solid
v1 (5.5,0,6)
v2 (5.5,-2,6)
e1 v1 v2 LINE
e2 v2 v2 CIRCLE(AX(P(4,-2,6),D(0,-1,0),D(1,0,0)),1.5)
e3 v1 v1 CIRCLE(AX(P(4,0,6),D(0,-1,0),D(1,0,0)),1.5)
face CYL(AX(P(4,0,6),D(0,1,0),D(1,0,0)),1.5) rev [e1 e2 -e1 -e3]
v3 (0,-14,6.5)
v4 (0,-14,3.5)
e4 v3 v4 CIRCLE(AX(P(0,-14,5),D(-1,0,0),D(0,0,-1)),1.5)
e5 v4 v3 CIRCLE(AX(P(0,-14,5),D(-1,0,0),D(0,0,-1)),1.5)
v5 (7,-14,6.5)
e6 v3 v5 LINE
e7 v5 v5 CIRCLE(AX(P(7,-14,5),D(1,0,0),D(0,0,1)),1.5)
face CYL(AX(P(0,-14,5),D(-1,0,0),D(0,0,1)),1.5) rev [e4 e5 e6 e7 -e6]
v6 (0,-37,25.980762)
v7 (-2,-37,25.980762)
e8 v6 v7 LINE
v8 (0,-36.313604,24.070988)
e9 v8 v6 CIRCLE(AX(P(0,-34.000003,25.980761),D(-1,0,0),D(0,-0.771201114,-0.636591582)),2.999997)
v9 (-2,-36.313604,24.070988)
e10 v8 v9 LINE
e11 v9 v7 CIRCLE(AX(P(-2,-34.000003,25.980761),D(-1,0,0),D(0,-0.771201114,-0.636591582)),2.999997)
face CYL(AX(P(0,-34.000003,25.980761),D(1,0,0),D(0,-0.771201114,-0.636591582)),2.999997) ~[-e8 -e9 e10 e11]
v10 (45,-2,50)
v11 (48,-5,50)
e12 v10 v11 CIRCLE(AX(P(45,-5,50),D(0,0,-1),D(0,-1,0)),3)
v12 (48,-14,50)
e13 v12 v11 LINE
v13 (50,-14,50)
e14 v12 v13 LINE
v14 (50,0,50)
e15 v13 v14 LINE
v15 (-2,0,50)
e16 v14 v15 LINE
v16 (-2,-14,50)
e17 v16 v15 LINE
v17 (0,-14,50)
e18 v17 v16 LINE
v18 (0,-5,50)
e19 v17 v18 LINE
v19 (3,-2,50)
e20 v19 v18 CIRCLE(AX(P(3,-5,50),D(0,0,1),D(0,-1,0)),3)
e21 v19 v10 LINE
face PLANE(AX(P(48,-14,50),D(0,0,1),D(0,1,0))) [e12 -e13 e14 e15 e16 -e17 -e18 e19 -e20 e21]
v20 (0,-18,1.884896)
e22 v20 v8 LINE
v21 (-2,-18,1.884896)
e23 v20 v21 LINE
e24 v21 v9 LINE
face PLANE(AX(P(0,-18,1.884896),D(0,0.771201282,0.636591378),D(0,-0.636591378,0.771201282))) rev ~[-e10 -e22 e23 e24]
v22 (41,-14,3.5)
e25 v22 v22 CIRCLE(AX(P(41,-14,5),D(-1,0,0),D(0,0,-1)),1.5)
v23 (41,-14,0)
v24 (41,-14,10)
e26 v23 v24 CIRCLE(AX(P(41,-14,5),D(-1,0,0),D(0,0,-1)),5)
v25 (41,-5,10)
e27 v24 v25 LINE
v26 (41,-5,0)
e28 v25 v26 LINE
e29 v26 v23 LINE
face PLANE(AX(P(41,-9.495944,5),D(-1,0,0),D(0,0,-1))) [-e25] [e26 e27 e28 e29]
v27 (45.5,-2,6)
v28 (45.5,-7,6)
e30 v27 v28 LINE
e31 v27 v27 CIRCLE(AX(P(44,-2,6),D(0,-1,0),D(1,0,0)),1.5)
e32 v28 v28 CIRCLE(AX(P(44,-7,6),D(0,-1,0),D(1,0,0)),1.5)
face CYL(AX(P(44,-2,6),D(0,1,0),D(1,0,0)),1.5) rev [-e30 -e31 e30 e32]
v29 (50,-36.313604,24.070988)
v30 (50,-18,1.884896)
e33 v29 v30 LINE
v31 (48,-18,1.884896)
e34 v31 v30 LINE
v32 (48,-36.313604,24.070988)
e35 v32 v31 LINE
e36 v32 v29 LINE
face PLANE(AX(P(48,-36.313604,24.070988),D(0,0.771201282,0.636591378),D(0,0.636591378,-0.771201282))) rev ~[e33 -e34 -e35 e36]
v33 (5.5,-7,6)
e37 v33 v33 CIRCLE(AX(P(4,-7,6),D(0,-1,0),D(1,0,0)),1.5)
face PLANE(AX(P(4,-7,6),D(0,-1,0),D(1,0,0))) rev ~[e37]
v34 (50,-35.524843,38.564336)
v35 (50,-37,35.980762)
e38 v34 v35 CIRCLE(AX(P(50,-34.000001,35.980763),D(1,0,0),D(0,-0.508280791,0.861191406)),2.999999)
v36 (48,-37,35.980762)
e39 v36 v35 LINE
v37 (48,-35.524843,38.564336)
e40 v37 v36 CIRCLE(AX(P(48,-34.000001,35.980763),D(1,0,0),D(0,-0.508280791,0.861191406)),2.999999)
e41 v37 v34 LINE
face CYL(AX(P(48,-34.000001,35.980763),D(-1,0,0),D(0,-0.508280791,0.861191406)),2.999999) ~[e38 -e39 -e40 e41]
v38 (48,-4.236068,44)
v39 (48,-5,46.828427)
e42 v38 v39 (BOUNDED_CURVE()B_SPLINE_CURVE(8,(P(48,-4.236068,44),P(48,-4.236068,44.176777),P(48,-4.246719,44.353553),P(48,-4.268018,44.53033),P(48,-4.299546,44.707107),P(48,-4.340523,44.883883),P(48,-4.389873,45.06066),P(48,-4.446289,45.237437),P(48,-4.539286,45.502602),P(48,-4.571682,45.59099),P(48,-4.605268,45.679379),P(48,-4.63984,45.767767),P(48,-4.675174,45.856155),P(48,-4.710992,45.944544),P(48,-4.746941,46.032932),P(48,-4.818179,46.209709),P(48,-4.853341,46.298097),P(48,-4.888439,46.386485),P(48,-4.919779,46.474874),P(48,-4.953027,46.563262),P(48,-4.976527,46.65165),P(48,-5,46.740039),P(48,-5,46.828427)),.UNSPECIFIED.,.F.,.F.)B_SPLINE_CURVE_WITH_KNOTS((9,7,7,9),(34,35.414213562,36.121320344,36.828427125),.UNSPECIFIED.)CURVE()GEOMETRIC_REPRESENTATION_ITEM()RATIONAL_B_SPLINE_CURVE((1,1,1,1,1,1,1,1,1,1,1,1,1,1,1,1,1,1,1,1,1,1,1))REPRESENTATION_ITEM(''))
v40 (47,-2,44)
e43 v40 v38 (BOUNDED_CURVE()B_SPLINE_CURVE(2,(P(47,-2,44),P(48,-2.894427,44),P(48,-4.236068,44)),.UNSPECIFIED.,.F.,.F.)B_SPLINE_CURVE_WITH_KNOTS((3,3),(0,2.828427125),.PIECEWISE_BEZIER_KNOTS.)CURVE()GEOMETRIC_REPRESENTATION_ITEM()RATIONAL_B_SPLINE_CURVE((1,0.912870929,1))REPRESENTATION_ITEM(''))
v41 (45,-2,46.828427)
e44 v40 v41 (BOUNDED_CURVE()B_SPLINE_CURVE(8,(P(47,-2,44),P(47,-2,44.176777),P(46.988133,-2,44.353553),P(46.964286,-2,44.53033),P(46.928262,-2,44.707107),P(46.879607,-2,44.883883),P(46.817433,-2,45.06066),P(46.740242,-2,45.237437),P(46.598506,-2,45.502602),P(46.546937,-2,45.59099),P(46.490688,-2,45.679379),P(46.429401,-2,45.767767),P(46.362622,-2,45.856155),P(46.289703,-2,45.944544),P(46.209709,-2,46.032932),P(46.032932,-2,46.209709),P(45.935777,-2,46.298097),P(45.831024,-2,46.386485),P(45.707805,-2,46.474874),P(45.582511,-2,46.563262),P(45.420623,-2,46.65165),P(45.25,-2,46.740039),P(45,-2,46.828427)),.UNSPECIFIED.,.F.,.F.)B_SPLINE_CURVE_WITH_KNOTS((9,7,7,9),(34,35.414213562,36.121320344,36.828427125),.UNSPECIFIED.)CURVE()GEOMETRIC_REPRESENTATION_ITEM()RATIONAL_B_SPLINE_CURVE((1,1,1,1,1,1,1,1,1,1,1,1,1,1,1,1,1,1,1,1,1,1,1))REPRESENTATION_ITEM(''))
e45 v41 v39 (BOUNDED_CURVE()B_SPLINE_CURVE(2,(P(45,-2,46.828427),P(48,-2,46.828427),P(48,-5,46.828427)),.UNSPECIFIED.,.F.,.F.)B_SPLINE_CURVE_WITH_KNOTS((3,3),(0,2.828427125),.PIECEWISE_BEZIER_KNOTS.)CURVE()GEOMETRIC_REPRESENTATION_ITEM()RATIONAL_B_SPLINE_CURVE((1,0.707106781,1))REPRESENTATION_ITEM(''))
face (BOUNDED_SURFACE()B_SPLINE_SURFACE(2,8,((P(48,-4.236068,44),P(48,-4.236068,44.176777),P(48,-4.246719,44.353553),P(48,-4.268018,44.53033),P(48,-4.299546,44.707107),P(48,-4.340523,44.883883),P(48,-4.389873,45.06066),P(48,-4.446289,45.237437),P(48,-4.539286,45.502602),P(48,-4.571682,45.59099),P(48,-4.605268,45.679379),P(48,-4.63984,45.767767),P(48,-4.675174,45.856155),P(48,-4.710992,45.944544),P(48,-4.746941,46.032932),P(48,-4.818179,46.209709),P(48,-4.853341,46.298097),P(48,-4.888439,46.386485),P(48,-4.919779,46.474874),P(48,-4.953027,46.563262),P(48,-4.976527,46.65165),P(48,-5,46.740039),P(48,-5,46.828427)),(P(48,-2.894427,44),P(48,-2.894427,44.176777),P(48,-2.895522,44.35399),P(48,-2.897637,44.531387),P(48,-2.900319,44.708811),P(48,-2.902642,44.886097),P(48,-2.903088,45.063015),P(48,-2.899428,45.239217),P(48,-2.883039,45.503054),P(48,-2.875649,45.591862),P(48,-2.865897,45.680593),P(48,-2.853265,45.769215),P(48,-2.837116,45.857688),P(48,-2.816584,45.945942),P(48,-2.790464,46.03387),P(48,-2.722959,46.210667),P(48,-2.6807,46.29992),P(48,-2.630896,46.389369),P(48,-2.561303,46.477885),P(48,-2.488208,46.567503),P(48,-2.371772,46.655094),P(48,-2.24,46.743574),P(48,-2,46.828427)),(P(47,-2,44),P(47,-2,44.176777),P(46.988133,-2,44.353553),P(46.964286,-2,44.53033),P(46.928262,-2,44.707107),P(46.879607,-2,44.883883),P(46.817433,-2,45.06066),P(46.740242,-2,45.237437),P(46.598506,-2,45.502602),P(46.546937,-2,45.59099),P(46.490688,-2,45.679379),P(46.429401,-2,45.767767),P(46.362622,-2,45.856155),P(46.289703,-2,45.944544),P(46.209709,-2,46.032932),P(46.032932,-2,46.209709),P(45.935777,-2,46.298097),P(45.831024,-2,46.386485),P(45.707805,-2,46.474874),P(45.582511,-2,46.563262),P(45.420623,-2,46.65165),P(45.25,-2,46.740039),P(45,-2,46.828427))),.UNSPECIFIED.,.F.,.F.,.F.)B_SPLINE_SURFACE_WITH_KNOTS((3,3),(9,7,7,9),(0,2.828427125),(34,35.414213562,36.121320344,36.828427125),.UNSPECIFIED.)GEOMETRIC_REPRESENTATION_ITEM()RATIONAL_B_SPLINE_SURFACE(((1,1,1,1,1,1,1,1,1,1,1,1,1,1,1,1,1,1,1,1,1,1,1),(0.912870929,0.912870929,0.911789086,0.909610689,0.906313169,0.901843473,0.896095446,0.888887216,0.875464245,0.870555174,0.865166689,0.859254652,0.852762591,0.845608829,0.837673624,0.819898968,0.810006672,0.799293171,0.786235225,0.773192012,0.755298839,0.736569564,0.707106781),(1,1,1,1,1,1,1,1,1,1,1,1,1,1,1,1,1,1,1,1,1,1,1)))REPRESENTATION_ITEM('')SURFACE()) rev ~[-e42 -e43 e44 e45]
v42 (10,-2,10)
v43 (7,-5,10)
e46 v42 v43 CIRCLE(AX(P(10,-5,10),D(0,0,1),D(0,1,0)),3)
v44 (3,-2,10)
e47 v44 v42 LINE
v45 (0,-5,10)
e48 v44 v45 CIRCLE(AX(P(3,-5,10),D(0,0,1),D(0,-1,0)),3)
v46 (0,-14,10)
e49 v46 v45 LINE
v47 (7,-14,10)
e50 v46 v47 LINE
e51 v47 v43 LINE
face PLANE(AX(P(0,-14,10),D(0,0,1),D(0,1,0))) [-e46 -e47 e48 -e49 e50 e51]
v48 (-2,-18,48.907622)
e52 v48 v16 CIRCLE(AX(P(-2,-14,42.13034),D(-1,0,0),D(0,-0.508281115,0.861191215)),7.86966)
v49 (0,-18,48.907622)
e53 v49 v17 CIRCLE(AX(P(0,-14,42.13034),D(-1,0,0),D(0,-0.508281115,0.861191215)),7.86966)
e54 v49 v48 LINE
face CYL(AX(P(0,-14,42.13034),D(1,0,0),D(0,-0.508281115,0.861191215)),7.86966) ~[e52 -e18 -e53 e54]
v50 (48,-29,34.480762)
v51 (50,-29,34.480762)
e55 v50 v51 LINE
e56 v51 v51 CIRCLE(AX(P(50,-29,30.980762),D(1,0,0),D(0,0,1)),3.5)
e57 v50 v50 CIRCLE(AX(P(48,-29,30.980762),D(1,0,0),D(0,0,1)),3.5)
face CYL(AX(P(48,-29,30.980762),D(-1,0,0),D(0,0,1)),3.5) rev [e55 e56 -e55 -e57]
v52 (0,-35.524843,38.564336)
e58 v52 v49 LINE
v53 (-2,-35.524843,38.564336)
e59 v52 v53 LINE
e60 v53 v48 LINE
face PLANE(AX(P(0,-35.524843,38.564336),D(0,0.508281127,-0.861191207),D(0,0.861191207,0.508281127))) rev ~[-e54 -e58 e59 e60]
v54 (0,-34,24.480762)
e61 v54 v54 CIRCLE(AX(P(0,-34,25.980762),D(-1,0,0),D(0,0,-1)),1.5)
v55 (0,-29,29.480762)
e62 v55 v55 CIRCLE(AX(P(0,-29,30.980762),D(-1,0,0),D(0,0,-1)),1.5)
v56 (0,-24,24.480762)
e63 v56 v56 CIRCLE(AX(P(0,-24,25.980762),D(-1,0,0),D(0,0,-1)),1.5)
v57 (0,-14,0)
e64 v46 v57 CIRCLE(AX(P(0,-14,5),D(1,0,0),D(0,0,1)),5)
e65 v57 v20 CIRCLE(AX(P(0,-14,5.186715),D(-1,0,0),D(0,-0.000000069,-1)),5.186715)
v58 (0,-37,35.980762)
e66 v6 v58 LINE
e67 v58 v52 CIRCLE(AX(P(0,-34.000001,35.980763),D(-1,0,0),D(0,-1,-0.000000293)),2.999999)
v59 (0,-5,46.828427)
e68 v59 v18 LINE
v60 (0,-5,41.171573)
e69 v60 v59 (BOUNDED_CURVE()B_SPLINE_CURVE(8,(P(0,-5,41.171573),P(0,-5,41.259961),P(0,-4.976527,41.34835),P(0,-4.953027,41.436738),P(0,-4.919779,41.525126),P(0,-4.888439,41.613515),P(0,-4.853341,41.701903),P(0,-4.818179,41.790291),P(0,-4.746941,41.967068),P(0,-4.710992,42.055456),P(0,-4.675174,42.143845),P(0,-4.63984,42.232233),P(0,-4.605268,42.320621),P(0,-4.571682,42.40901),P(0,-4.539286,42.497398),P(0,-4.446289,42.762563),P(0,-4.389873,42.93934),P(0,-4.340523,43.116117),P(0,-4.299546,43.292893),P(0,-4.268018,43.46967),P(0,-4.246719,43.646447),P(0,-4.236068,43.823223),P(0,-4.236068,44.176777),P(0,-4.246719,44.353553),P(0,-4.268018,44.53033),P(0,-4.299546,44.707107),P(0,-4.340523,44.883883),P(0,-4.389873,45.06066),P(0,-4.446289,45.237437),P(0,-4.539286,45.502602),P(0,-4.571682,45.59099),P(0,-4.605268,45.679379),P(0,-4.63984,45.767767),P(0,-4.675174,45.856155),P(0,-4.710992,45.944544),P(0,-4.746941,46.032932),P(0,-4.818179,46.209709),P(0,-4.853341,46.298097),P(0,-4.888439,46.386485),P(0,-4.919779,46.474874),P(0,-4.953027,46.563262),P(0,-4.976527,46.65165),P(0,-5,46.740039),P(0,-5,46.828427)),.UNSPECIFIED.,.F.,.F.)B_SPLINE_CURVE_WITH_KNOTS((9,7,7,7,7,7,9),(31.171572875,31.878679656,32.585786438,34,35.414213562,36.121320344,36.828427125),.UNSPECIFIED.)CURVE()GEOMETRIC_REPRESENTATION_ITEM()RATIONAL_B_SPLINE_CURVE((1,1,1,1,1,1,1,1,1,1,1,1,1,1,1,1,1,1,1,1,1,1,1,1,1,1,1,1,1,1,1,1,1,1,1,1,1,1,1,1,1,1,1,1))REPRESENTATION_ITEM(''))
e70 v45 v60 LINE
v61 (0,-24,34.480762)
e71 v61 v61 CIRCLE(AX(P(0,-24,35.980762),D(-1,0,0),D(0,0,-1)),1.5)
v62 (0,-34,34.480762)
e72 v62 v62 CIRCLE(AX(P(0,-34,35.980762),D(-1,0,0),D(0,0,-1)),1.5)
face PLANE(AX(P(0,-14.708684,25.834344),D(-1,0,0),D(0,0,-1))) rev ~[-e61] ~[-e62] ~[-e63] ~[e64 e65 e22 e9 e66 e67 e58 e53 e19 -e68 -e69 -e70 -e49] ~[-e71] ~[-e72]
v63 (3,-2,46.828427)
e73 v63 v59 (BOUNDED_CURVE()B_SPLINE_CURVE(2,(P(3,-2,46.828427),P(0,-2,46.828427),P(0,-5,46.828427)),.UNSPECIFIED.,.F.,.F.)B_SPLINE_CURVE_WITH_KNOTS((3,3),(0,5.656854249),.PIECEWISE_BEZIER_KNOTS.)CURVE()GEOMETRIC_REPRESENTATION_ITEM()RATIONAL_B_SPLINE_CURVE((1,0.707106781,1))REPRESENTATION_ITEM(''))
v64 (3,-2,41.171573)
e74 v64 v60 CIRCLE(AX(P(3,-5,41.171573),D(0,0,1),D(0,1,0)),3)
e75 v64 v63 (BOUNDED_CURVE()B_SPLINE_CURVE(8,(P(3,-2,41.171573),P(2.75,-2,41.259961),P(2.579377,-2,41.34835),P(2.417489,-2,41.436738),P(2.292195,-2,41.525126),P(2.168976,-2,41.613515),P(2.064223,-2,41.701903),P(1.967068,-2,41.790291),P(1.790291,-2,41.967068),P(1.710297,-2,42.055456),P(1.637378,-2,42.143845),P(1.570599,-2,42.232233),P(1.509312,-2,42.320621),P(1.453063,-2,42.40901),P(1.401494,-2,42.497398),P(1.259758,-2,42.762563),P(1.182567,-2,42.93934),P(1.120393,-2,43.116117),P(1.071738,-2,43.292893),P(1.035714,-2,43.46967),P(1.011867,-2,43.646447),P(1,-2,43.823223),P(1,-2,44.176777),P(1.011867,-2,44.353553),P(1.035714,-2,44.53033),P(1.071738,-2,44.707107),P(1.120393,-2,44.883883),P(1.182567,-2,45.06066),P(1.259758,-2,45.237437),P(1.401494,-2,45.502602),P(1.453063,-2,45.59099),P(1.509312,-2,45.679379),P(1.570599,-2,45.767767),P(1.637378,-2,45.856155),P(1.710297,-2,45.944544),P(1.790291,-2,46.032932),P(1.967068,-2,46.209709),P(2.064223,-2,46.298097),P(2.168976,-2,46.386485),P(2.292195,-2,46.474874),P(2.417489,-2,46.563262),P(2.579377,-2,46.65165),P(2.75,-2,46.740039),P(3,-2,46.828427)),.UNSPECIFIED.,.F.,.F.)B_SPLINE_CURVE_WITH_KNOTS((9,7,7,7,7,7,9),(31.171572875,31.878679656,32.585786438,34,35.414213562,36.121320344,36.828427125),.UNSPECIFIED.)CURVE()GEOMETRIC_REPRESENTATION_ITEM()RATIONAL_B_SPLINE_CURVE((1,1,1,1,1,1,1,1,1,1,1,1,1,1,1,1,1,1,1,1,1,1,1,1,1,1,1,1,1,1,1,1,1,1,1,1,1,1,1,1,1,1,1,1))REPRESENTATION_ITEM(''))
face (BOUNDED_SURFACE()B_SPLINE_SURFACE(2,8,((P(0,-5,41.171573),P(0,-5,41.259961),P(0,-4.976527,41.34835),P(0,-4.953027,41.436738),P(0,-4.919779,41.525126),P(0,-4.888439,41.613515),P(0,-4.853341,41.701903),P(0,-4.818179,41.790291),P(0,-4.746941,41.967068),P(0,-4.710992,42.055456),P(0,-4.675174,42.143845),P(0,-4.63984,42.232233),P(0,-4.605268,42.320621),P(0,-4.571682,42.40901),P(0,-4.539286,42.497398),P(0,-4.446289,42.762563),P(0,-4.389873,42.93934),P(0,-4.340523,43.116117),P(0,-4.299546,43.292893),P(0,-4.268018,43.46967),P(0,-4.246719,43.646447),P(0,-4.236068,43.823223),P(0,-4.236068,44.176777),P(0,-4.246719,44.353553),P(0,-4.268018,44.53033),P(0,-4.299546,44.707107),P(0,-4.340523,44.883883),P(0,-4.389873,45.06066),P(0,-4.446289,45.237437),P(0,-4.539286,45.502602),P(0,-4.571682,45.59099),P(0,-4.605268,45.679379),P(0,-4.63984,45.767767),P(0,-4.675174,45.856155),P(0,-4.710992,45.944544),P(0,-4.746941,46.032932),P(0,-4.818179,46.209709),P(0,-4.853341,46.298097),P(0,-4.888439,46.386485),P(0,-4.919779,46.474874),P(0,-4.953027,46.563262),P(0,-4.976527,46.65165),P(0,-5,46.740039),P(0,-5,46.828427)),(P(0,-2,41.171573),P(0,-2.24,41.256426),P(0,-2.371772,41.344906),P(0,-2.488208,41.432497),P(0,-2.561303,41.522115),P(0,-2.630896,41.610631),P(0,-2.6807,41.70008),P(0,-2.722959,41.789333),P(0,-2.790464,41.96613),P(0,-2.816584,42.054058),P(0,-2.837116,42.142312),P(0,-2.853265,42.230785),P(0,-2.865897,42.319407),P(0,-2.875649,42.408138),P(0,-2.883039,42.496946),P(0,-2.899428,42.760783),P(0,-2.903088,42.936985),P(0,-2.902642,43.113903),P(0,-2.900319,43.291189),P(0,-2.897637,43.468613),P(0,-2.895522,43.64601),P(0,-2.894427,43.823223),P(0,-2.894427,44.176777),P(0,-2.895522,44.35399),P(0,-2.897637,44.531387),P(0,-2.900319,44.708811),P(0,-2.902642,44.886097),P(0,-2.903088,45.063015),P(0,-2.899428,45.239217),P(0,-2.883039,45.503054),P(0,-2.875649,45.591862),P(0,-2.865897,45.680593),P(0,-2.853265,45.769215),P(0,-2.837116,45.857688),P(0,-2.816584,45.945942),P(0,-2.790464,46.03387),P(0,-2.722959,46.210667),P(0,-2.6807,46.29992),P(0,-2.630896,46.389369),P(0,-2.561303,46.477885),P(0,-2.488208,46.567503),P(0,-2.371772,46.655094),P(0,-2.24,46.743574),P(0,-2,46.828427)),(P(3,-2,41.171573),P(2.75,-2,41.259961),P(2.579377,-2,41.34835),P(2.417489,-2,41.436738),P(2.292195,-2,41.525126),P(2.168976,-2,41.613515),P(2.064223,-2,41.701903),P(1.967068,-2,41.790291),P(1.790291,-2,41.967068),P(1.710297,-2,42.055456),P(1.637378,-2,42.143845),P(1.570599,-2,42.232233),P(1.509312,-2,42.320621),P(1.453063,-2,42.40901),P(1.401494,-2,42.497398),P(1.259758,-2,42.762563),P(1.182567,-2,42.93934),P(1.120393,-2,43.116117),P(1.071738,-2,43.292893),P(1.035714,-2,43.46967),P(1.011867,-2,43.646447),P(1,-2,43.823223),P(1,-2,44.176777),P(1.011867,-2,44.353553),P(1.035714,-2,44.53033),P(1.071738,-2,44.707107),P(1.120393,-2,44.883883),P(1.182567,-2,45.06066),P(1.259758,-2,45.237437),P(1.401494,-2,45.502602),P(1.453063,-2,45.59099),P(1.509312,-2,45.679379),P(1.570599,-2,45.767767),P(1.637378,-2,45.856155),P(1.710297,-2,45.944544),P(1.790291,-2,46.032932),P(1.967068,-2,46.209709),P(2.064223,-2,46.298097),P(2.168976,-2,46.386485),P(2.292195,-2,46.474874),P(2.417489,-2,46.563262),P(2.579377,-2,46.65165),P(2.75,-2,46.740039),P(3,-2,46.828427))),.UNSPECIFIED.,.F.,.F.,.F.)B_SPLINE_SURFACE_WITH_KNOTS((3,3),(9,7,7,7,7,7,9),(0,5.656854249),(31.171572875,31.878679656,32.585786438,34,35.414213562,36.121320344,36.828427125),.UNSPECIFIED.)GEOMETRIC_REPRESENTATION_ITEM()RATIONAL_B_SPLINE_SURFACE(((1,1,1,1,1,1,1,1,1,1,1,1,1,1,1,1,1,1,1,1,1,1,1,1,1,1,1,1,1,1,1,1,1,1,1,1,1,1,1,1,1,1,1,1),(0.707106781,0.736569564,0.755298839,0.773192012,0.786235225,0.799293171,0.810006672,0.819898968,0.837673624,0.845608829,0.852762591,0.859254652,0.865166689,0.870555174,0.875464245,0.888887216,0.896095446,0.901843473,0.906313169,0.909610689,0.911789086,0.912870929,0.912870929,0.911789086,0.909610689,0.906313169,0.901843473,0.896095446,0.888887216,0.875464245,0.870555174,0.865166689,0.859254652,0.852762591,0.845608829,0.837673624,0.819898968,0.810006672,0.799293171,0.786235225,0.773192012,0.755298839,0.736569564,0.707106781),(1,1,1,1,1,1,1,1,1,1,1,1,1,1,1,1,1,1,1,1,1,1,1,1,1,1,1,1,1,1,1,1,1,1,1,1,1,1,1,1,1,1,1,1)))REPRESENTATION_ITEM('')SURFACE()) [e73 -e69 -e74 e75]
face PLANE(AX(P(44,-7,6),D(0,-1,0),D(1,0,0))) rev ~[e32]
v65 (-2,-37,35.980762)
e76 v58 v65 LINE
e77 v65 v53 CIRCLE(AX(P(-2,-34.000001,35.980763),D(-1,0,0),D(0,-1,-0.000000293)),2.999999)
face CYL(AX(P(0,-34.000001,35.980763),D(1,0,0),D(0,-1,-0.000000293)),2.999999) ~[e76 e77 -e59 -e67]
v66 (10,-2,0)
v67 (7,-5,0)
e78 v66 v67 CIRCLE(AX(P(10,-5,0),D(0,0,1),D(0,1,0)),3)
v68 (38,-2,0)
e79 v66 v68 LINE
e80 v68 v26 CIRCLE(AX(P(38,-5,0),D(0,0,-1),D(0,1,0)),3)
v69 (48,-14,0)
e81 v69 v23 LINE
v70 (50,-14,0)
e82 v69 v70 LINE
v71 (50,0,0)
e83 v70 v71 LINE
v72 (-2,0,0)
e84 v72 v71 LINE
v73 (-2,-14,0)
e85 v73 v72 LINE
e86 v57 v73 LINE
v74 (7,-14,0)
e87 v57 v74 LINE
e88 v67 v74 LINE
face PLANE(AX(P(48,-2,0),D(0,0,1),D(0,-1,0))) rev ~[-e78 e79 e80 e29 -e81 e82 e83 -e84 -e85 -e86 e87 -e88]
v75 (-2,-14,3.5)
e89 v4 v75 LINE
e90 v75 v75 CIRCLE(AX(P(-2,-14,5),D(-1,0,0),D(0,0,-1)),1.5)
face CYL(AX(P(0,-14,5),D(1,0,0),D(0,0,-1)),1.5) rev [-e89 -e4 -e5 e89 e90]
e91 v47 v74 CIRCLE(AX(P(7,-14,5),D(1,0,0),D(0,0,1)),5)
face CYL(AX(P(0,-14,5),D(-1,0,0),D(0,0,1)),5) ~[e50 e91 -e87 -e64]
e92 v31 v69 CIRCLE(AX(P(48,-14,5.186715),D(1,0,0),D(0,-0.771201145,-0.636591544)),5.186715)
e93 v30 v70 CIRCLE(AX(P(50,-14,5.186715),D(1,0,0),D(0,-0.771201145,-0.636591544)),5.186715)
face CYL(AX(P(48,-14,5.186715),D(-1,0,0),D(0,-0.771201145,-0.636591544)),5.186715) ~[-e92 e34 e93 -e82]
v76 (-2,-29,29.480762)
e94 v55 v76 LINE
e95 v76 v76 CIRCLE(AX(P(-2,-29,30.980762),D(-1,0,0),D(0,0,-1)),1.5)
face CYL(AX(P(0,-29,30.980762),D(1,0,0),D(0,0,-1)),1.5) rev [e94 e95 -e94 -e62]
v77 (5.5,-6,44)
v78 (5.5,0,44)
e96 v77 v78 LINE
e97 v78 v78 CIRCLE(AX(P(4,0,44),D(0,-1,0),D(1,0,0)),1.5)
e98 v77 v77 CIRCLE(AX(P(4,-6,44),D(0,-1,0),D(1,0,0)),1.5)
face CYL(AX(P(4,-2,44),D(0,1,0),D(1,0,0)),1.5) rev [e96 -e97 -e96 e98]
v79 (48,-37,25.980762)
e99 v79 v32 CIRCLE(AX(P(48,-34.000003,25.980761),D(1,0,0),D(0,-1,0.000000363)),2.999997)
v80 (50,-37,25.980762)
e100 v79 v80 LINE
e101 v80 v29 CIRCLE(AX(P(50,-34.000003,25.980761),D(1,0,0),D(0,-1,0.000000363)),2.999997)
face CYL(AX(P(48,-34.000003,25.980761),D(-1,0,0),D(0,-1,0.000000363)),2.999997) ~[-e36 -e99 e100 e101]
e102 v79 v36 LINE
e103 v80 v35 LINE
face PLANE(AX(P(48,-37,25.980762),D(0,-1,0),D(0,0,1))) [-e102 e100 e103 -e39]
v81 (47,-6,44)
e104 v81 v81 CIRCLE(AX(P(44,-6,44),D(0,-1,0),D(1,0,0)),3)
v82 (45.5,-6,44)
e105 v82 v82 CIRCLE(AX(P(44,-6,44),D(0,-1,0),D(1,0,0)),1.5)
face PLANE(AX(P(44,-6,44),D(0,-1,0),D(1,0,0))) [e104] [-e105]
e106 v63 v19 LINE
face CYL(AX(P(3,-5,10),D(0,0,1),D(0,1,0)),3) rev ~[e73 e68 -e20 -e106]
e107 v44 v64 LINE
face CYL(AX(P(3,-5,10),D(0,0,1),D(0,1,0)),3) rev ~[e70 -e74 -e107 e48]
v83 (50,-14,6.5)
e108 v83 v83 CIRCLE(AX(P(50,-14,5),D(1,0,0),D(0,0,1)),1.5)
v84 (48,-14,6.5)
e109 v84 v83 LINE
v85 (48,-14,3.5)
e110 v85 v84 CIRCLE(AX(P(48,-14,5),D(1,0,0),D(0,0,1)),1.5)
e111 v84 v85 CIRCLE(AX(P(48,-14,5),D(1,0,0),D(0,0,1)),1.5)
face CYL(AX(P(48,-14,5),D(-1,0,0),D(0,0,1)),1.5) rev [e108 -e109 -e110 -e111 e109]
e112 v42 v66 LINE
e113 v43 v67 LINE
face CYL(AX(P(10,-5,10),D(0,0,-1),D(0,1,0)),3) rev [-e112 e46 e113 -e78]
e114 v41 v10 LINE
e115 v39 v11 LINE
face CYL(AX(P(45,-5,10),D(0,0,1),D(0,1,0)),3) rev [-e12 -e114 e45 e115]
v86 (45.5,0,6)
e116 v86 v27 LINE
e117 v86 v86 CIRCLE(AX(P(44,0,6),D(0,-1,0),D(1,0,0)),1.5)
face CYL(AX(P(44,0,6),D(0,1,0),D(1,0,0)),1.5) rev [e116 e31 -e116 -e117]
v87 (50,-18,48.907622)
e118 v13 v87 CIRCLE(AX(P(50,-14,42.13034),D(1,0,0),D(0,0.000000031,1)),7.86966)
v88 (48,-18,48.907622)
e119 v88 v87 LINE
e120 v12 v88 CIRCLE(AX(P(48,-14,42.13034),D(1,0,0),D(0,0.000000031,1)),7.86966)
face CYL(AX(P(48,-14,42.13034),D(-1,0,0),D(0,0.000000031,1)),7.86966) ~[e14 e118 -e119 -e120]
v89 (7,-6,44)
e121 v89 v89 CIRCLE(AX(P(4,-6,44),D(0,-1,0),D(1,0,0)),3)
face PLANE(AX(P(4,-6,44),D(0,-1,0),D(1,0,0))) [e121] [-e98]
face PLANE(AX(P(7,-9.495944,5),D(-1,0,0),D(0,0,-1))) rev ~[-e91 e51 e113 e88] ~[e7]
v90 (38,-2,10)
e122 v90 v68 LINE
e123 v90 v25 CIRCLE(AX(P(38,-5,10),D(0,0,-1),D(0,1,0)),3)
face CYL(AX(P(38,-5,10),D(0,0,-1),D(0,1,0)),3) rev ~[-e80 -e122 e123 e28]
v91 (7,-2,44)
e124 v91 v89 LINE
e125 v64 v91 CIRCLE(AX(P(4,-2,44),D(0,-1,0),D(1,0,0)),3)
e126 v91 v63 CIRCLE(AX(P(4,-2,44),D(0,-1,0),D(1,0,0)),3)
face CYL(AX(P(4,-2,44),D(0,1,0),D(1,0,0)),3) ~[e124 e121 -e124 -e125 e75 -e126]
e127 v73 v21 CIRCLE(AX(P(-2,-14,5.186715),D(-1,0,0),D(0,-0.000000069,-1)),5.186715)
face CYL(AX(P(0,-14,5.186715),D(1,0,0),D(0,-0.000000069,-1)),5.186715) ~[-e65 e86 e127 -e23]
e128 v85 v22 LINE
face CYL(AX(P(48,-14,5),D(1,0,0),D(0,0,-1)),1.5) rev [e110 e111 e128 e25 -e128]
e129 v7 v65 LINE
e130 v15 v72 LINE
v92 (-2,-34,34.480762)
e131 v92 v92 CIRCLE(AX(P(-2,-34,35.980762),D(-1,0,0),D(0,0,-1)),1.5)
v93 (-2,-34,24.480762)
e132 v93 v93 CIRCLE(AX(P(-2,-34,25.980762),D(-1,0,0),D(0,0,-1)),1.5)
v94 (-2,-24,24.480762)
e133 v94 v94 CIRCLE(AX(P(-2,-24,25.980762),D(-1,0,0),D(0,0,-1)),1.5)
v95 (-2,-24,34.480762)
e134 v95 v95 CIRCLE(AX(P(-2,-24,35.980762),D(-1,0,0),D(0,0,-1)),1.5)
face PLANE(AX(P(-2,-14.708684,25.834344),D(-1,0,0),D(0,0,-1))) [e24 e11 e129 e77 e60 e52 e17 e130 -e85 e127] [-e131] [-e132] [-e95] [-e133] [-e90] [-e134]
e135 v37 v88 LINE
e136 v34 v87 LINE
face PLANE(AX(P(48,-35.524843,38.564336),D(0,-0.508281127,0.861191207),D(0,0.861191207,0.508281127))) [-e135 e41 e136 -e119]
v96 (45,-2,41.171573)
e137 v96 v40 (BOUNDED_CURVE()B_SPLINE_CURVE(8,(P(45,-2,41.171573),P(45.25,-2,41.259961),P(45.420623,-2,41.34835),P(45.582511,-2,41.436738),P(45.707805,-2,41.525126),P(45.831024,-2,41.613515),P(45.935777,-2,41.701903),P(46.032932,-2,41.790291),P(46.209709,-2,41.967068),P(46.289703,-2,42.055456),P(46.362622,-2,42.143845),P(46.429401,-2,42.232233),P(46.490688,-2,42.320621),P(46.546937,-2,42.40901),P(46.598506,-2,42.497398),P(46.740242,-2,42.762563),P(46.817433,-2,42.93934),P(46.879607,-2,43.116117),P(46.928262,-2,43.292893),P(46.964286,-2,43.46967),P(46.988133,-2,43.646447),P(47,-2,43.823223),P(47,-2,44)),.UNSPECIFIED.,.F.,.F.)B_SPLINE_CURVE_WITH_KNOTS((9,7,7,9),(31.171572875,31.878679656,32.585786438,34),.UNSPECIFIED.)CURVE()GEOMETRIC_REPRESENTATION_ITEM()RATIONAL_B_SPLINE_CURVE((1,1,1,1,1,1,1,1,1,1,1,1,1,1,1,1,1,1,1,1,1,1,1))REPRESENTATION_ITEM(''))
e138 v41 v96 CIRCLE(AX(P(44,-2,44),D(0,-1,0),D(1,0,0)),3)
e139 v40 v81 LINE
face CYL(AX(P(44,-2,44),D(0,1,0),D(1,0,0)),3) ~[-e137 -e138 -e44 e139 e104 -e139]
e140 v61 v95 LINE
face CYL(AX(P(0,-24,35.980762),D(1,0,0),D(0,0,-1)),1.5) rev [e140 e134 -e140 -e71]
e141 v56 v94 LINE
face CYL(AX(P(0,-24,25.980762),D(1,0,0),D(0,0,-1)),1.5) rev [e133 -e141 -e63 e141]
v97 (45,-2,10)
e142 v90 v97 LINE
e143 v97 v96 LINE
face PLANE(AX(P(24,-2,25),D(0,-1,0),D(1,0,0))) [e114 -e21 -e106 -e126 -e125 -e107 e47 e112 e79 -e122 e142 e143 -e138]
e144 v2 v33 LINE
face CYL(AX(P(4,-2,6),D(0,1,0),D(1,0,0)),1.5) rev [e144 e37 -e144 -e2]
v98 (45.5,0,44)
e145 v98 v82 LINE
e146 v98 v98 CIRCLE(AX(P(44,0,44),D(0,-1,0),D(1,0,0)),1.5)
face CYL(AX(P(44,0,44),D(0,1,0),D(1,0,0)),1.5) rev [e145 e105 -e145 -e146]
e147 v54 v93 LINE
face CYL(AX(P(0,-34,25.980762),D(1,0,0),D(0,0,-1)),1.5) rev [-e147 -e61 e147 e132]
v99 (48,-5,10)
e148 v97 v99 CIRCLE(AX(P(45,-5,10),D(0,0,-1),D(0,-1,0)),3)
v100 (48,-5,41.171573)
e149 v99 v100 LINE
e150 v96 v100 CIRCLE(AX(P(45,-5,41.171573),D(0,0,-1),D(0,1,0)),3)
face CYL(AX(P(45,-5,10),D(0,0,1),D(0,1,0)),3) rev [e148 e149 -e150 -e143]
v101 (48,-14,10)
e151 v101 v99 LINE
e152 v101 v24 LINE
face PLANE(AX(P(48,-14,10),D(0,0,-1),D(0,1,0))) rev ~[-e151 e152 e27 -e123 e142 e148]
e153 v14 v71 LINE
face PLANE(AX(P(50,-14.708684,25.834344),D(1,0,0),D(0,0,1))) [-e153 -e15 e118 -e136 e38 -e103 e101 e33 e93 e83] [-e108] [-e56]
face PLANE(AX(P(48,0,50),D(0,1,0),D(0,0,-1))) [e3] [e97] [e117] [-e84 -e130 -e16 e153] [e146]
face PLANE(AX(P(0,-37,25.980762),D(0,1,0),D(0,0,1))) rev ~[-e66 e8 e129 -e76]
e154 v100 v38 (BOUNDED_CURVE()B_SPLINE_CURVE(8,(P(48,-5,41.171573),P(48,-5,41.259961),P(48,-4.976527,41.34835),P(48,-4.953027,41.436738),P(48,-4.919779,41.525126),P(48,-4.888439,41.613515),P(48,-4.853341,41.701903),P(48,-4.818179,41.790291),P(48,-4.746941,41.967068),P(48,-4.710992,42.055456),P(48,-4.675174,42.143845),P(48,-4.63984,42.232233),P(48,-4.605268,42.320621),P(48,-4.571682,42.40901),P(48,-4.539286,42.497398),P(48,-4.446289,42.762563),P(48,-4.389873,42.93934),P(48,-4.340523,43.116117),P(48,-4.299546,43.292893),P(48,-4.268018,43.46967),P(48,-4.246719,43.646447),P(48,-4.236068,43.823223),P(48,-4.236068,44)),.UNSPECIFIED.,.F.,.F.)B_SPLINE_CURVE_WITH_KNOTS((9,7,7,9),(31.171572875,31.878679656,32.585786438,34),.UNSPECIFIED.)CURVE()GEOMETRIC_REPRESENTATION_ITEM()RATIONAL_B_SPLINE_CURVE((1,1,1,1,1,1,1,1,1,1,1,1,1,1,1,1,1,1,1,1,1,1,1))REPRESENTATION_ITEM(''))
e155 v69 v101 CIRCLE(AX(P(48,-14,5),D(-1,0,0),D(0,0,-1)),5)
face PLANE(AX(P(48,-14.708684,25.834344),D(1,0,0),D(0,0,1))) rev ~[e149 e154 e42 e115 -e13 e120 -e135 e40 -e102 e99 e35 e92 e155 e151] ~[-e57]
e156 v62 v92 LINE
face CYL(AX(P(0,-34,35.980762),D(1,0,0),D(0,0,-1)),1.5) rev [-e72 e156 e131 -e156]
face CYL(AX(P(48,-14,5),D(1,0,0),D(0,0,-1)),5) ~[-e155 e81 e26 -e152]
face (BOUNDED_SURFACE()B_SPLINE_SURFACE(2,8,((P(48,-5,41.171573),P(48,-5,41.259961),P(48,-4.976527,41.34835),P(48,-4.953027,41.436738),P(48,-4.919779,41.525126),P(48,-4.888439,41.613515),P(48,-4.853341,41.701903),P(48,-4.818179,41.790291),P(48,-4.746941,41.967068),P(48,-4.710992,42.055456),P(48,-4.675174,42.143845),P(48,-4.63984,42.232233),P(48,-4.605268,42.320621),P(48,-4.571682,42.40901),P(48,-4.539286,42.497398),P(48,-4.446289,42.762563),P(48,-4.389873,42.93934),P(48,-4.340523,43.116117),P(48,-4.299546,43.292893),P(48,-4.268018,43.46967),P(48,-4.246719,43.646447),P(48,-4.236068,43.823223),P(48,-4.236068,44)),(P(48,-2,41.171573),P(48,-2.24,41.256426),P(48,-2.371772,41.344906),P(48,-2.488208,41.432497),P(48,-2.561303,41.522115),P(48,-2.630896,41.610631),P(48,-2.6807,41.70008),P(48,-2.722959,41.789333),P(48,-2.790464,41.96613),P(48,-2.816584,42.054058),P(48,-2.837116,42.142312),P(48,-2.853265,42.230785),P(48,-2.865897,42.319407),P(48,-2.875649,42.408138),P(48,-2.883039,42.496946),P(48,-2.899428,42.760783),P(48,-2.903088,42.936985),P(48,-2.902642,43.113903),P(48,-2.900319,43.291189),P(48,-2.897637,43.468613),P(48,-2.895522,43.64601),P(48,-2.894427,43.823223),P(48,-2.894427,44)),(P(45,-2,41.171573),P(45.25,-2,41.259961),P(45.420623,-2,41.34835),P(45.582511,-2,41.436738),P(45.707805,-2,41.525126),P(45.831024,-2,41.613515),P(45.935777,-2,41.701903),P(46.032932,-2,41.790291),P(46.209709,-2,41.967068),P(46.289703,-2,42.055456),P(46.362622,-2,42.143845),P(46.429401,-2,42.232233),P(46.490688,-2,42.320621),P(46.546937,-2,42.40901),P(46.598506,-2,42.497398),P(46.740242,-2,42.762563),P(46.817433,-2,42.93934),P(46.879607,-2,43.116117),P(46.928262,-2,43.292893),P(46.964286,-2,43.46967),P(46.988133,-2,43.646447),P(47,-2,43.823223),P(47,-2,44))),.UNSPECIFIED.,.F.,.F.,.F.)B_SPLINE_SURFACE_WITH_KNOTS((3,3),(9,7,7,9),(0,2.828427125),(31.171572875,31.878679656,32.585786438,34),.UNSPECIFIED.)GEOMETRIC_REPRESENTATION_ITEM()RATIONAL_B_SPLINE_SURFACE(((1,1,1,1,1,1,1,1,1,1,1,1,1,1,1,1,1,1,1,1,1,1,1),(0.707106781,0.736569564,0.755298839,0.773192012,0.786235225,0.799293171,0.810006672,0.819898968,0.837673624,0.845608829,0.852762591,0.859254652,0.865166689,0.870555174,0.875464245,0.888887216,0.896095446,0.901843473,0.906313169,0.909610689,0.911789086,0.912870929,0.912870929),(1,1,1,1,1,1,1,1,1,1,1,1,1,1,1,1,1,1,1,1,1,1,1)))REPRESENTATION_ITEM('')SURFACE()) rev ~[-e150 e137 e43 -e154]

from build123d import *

# Parameters (mm, degrees)
SKETCH_W      = 48
SKETCH_H      = 50
SKETCH_R      = 1.5
PAD_DEPTH     = 2
SKETCH001_R   = 1.5
PAD001_DEPTH  = 2
SKETCH002_R   = 3.5
SKETCH002_R_2 = 1.5
PAD002_DEPTH  = 2
SKETCH003_R   = 3
SKETCH003_R_2 = 1.5
PAD003_DEPTH  = 4
SKETCH004_R   = 1.5
PAD004_DEPTH  = 7
SKETCH005_R   = 1.5
PAD005_DEPTH  = 7
SKETCH006_R   = 1.5
POCKET_DEPTH  = 5
FILLET_R      = 3
FILLET001_R   = 3
FILLET002_R   = 3
FILLET003_R   = 3


with BuildPart() as part:
    # Sketch → Pad (new body)
    with BuildSketch(Plane.XZ):
        with Locations((24, 25)):
            Rectangle(SKETCH_W, SKETCH_H)
        with Locations((4, 44)):
            Circle(SKETCH_R, mode=Mode.SUBTRACT)
        with Locations((44, 44)):
            Circle(SKETCH_R, mode=Mode.SUBTRACT)
        with Locations((4, 6)):
            Circle(SKETCH_R, mode=Mode.SUBTRACT)
        with Locations((44, 6)):
            Circle(SKETCH_R, mode=Mode.SUBTRACT)
    extrude(amount=PAD_DEPTH)

    # Sketch001 (on Face4 of Pad) → Pad001 (join)
    with BuildSketch(Plane(origin=(0, 0, 0), x_dir=(0, 0, -1), z_dir=(-1, 0, 0))):
        with BuildLine():
            Line((-50, 0), (0, 0))
            Line((0, 14), (0, 0))
            ThreePointArc((0, 14), (-0.494828, 16.210929), (-1.884896, 18))
            Line((-1.884896, 18), (-24.070988, 36.313604))
            ThreePointArc((-24.070988, 36.313604), (-24.966073, 36.823191), (-25.980762, 37))
            Line((-25.980762, 37), (-35.980762, 37))
            ThreePointArc((-35.980762, 37), (-37.468289, 36.605238), (-38.564336, 35.524843))
            Line((-38.564336, 35.524843), (-48.907622, 18))
            ThreePointArc((-48.907622, 18), (-49.721995, 16.07324), (-50, 14))
            Line((-50, 14), (-50, 0))
        make_face()
        with Locations((-5, 14)):
            Circle(SKETCH001_R, mode=Mode.SUBTRACT)
        with Locations((-30.980762, 29)):
            Circle(SKETCH001_R, mode=Mode.SUBTRACT)
        with Locations((-25.980762, 24)):
            Circle(SKETCH001_R, mode=Mode.SUBTRACT)
        with Locations((-25.980762, 34)):
            Circle(SKETCH001_R, mode=Mode.SUBTRACT)
        with Locations((-35.980762, 34)):
            Circle(SKETCH001_R, mode=Mode.SUBTRACT)
        with Locations((-35.980762, 24)):
            Circle(SKETCH001_R, mode=Mode.SUBTRACT)
    extrude(amount=PAD001_DEPTH)

    # Sketch002 (on Face3 of Pad001) → Pad002 (join)
    with BuildSketch(Plane(origin=(48, 0, 0), x_dir=(0, 0, 1), z_dir=(1, 0, 0))):
        with BuildLine():
            Line((24.070988, 36.313604), (1.884896, 18))
            ThreePointArc((1.884896, 18), (0.494828, 16.210929), (0, 14))
            Line((0, 14), (0, 0))
            Line((50, 0), (0, 0))
            Line((50, 14), (50, 0))
            ThreePointArc((50, 14), (49.721995, 16.07324), (48.907622, 18))
            Line((38.564336, 35.524843), (48.907622, 18))
            ThreePointArc((38.564336, 35.524843), (37.468289, 36.605238), (35.980762, 37))
            Line((25.980762, 37), (35.980762, 37))
            ThreePointArc((25.980762, 37), (24.966073, 36.823191), (24.070988, 36.313604))
        make_face()
        with Locations((30.980762, 29)):
            Circle(SKETCH002_R, mode=Mode.SUBTRACT)
        with Locations((5, 14)):
            Circle(SKETCH002_R_2, mode=Mode.SUBTRACT)
    extrude(amount=PAD002_DEPTH)

    # Sketch003 (on Face5 of Pad002) → Pad003 (join)
    with BuildSketch(Plane.XZ.offset(2)):
        with Locations((4, 44)):
            Circle(SKETCH003_R)
        with Locations((4, 44)):
            Circle(SKETCH003_R_2, mode=Mode.SUBTRACT)
        with Locations((44, 44)):
            Circle(SKETCH003_R)
        with Locations((44, 44)):
            Circle(SKETCH003_R_2, mode=Mode.SUBTRACT)
    extrude(amount=PAD003_DEPTH)

    # Sketch004 (on Face8 of Pad003) → Pad004 (join)
    with BuildSketch(Plane(origin=(0, 0, 0), x_dir=(0, 0, 1), z_dir=(1, 0, 0))):
        with BuildLine():
            Line((0, 2), (0, 14))
            ThreePointArc((10, 14), (5, 19), (0, 14))
            Line((10, 14), (10, 2))
            Line((10, 2), (0, 2))
        make_face()
        with Locations((5, 14)):
            Circle(SKETCH004_R, mode=Mode.SUBTRACT)
    extrude(amount=PAD004_DEPTH)

    # Sketch005 (on Face12 of Pad004) → Pad005 (join)
    with BuildSketch(Plane(origin=(48, 0, 0), x_dir=(0, 0, -1), z_dir=(-1, 0, 0))):
        with BuildLine():
            Line((-10, 14), (-10, 2))
            Line((-10, 2), (0, 2))
            Line((0, 2), (0, 14))
            ThreePointArc((0, 14), (-5, 19), (-10, 14))
        make_face()
        with Locations((-5, 14)):
            Circle(SKETCH005_R, mode=Mode.SUBTRACT)
    extrude(amount=PAD005_DEPTH)

    # Sketch006 (on Face6 of Pad005) → Pocket (cut)
    with BuildSketch(Plane.XZ.offset(2)):
        with Locations((4, 6)):
            Circle(SKETCH006_R)
        with Locations((44, 6)):
            Circle(SKETCH006_R)
    extrude(amount=POCKET_DEPTH, mode=Mode.SUBTRACT)

    # Fillet
    fillet_edges = [part.edges().sort_by_distance(p)[0] for p in [
        (48, -2, 30),
    ]]
    fillet(fillet_edges, radius=FILLET_R)

    # Fillet001
    fillet001_edges = [part.edges().sort_by_distance(p)[0] for p in [
        (0, -2, 30),
    ]]
    fillet(fillet001_edges, radius=FILLET001_R)

    # Fillet002
    fillet002_edges = [part.edges().sort_by_distance(p)[0] for p in [
        (7, -2, 5),
    ]]
    fillet(fillet002_edges, radius=FILLET002_R)

    # Fillet003
    fillet003_edges = [part.edges().sort_by_distance(p)[0] for p in [
        (41, -2, 5),
    ]]
    fillet(fillet003_edges, radius=FILLET003_R)


solid = part.part
